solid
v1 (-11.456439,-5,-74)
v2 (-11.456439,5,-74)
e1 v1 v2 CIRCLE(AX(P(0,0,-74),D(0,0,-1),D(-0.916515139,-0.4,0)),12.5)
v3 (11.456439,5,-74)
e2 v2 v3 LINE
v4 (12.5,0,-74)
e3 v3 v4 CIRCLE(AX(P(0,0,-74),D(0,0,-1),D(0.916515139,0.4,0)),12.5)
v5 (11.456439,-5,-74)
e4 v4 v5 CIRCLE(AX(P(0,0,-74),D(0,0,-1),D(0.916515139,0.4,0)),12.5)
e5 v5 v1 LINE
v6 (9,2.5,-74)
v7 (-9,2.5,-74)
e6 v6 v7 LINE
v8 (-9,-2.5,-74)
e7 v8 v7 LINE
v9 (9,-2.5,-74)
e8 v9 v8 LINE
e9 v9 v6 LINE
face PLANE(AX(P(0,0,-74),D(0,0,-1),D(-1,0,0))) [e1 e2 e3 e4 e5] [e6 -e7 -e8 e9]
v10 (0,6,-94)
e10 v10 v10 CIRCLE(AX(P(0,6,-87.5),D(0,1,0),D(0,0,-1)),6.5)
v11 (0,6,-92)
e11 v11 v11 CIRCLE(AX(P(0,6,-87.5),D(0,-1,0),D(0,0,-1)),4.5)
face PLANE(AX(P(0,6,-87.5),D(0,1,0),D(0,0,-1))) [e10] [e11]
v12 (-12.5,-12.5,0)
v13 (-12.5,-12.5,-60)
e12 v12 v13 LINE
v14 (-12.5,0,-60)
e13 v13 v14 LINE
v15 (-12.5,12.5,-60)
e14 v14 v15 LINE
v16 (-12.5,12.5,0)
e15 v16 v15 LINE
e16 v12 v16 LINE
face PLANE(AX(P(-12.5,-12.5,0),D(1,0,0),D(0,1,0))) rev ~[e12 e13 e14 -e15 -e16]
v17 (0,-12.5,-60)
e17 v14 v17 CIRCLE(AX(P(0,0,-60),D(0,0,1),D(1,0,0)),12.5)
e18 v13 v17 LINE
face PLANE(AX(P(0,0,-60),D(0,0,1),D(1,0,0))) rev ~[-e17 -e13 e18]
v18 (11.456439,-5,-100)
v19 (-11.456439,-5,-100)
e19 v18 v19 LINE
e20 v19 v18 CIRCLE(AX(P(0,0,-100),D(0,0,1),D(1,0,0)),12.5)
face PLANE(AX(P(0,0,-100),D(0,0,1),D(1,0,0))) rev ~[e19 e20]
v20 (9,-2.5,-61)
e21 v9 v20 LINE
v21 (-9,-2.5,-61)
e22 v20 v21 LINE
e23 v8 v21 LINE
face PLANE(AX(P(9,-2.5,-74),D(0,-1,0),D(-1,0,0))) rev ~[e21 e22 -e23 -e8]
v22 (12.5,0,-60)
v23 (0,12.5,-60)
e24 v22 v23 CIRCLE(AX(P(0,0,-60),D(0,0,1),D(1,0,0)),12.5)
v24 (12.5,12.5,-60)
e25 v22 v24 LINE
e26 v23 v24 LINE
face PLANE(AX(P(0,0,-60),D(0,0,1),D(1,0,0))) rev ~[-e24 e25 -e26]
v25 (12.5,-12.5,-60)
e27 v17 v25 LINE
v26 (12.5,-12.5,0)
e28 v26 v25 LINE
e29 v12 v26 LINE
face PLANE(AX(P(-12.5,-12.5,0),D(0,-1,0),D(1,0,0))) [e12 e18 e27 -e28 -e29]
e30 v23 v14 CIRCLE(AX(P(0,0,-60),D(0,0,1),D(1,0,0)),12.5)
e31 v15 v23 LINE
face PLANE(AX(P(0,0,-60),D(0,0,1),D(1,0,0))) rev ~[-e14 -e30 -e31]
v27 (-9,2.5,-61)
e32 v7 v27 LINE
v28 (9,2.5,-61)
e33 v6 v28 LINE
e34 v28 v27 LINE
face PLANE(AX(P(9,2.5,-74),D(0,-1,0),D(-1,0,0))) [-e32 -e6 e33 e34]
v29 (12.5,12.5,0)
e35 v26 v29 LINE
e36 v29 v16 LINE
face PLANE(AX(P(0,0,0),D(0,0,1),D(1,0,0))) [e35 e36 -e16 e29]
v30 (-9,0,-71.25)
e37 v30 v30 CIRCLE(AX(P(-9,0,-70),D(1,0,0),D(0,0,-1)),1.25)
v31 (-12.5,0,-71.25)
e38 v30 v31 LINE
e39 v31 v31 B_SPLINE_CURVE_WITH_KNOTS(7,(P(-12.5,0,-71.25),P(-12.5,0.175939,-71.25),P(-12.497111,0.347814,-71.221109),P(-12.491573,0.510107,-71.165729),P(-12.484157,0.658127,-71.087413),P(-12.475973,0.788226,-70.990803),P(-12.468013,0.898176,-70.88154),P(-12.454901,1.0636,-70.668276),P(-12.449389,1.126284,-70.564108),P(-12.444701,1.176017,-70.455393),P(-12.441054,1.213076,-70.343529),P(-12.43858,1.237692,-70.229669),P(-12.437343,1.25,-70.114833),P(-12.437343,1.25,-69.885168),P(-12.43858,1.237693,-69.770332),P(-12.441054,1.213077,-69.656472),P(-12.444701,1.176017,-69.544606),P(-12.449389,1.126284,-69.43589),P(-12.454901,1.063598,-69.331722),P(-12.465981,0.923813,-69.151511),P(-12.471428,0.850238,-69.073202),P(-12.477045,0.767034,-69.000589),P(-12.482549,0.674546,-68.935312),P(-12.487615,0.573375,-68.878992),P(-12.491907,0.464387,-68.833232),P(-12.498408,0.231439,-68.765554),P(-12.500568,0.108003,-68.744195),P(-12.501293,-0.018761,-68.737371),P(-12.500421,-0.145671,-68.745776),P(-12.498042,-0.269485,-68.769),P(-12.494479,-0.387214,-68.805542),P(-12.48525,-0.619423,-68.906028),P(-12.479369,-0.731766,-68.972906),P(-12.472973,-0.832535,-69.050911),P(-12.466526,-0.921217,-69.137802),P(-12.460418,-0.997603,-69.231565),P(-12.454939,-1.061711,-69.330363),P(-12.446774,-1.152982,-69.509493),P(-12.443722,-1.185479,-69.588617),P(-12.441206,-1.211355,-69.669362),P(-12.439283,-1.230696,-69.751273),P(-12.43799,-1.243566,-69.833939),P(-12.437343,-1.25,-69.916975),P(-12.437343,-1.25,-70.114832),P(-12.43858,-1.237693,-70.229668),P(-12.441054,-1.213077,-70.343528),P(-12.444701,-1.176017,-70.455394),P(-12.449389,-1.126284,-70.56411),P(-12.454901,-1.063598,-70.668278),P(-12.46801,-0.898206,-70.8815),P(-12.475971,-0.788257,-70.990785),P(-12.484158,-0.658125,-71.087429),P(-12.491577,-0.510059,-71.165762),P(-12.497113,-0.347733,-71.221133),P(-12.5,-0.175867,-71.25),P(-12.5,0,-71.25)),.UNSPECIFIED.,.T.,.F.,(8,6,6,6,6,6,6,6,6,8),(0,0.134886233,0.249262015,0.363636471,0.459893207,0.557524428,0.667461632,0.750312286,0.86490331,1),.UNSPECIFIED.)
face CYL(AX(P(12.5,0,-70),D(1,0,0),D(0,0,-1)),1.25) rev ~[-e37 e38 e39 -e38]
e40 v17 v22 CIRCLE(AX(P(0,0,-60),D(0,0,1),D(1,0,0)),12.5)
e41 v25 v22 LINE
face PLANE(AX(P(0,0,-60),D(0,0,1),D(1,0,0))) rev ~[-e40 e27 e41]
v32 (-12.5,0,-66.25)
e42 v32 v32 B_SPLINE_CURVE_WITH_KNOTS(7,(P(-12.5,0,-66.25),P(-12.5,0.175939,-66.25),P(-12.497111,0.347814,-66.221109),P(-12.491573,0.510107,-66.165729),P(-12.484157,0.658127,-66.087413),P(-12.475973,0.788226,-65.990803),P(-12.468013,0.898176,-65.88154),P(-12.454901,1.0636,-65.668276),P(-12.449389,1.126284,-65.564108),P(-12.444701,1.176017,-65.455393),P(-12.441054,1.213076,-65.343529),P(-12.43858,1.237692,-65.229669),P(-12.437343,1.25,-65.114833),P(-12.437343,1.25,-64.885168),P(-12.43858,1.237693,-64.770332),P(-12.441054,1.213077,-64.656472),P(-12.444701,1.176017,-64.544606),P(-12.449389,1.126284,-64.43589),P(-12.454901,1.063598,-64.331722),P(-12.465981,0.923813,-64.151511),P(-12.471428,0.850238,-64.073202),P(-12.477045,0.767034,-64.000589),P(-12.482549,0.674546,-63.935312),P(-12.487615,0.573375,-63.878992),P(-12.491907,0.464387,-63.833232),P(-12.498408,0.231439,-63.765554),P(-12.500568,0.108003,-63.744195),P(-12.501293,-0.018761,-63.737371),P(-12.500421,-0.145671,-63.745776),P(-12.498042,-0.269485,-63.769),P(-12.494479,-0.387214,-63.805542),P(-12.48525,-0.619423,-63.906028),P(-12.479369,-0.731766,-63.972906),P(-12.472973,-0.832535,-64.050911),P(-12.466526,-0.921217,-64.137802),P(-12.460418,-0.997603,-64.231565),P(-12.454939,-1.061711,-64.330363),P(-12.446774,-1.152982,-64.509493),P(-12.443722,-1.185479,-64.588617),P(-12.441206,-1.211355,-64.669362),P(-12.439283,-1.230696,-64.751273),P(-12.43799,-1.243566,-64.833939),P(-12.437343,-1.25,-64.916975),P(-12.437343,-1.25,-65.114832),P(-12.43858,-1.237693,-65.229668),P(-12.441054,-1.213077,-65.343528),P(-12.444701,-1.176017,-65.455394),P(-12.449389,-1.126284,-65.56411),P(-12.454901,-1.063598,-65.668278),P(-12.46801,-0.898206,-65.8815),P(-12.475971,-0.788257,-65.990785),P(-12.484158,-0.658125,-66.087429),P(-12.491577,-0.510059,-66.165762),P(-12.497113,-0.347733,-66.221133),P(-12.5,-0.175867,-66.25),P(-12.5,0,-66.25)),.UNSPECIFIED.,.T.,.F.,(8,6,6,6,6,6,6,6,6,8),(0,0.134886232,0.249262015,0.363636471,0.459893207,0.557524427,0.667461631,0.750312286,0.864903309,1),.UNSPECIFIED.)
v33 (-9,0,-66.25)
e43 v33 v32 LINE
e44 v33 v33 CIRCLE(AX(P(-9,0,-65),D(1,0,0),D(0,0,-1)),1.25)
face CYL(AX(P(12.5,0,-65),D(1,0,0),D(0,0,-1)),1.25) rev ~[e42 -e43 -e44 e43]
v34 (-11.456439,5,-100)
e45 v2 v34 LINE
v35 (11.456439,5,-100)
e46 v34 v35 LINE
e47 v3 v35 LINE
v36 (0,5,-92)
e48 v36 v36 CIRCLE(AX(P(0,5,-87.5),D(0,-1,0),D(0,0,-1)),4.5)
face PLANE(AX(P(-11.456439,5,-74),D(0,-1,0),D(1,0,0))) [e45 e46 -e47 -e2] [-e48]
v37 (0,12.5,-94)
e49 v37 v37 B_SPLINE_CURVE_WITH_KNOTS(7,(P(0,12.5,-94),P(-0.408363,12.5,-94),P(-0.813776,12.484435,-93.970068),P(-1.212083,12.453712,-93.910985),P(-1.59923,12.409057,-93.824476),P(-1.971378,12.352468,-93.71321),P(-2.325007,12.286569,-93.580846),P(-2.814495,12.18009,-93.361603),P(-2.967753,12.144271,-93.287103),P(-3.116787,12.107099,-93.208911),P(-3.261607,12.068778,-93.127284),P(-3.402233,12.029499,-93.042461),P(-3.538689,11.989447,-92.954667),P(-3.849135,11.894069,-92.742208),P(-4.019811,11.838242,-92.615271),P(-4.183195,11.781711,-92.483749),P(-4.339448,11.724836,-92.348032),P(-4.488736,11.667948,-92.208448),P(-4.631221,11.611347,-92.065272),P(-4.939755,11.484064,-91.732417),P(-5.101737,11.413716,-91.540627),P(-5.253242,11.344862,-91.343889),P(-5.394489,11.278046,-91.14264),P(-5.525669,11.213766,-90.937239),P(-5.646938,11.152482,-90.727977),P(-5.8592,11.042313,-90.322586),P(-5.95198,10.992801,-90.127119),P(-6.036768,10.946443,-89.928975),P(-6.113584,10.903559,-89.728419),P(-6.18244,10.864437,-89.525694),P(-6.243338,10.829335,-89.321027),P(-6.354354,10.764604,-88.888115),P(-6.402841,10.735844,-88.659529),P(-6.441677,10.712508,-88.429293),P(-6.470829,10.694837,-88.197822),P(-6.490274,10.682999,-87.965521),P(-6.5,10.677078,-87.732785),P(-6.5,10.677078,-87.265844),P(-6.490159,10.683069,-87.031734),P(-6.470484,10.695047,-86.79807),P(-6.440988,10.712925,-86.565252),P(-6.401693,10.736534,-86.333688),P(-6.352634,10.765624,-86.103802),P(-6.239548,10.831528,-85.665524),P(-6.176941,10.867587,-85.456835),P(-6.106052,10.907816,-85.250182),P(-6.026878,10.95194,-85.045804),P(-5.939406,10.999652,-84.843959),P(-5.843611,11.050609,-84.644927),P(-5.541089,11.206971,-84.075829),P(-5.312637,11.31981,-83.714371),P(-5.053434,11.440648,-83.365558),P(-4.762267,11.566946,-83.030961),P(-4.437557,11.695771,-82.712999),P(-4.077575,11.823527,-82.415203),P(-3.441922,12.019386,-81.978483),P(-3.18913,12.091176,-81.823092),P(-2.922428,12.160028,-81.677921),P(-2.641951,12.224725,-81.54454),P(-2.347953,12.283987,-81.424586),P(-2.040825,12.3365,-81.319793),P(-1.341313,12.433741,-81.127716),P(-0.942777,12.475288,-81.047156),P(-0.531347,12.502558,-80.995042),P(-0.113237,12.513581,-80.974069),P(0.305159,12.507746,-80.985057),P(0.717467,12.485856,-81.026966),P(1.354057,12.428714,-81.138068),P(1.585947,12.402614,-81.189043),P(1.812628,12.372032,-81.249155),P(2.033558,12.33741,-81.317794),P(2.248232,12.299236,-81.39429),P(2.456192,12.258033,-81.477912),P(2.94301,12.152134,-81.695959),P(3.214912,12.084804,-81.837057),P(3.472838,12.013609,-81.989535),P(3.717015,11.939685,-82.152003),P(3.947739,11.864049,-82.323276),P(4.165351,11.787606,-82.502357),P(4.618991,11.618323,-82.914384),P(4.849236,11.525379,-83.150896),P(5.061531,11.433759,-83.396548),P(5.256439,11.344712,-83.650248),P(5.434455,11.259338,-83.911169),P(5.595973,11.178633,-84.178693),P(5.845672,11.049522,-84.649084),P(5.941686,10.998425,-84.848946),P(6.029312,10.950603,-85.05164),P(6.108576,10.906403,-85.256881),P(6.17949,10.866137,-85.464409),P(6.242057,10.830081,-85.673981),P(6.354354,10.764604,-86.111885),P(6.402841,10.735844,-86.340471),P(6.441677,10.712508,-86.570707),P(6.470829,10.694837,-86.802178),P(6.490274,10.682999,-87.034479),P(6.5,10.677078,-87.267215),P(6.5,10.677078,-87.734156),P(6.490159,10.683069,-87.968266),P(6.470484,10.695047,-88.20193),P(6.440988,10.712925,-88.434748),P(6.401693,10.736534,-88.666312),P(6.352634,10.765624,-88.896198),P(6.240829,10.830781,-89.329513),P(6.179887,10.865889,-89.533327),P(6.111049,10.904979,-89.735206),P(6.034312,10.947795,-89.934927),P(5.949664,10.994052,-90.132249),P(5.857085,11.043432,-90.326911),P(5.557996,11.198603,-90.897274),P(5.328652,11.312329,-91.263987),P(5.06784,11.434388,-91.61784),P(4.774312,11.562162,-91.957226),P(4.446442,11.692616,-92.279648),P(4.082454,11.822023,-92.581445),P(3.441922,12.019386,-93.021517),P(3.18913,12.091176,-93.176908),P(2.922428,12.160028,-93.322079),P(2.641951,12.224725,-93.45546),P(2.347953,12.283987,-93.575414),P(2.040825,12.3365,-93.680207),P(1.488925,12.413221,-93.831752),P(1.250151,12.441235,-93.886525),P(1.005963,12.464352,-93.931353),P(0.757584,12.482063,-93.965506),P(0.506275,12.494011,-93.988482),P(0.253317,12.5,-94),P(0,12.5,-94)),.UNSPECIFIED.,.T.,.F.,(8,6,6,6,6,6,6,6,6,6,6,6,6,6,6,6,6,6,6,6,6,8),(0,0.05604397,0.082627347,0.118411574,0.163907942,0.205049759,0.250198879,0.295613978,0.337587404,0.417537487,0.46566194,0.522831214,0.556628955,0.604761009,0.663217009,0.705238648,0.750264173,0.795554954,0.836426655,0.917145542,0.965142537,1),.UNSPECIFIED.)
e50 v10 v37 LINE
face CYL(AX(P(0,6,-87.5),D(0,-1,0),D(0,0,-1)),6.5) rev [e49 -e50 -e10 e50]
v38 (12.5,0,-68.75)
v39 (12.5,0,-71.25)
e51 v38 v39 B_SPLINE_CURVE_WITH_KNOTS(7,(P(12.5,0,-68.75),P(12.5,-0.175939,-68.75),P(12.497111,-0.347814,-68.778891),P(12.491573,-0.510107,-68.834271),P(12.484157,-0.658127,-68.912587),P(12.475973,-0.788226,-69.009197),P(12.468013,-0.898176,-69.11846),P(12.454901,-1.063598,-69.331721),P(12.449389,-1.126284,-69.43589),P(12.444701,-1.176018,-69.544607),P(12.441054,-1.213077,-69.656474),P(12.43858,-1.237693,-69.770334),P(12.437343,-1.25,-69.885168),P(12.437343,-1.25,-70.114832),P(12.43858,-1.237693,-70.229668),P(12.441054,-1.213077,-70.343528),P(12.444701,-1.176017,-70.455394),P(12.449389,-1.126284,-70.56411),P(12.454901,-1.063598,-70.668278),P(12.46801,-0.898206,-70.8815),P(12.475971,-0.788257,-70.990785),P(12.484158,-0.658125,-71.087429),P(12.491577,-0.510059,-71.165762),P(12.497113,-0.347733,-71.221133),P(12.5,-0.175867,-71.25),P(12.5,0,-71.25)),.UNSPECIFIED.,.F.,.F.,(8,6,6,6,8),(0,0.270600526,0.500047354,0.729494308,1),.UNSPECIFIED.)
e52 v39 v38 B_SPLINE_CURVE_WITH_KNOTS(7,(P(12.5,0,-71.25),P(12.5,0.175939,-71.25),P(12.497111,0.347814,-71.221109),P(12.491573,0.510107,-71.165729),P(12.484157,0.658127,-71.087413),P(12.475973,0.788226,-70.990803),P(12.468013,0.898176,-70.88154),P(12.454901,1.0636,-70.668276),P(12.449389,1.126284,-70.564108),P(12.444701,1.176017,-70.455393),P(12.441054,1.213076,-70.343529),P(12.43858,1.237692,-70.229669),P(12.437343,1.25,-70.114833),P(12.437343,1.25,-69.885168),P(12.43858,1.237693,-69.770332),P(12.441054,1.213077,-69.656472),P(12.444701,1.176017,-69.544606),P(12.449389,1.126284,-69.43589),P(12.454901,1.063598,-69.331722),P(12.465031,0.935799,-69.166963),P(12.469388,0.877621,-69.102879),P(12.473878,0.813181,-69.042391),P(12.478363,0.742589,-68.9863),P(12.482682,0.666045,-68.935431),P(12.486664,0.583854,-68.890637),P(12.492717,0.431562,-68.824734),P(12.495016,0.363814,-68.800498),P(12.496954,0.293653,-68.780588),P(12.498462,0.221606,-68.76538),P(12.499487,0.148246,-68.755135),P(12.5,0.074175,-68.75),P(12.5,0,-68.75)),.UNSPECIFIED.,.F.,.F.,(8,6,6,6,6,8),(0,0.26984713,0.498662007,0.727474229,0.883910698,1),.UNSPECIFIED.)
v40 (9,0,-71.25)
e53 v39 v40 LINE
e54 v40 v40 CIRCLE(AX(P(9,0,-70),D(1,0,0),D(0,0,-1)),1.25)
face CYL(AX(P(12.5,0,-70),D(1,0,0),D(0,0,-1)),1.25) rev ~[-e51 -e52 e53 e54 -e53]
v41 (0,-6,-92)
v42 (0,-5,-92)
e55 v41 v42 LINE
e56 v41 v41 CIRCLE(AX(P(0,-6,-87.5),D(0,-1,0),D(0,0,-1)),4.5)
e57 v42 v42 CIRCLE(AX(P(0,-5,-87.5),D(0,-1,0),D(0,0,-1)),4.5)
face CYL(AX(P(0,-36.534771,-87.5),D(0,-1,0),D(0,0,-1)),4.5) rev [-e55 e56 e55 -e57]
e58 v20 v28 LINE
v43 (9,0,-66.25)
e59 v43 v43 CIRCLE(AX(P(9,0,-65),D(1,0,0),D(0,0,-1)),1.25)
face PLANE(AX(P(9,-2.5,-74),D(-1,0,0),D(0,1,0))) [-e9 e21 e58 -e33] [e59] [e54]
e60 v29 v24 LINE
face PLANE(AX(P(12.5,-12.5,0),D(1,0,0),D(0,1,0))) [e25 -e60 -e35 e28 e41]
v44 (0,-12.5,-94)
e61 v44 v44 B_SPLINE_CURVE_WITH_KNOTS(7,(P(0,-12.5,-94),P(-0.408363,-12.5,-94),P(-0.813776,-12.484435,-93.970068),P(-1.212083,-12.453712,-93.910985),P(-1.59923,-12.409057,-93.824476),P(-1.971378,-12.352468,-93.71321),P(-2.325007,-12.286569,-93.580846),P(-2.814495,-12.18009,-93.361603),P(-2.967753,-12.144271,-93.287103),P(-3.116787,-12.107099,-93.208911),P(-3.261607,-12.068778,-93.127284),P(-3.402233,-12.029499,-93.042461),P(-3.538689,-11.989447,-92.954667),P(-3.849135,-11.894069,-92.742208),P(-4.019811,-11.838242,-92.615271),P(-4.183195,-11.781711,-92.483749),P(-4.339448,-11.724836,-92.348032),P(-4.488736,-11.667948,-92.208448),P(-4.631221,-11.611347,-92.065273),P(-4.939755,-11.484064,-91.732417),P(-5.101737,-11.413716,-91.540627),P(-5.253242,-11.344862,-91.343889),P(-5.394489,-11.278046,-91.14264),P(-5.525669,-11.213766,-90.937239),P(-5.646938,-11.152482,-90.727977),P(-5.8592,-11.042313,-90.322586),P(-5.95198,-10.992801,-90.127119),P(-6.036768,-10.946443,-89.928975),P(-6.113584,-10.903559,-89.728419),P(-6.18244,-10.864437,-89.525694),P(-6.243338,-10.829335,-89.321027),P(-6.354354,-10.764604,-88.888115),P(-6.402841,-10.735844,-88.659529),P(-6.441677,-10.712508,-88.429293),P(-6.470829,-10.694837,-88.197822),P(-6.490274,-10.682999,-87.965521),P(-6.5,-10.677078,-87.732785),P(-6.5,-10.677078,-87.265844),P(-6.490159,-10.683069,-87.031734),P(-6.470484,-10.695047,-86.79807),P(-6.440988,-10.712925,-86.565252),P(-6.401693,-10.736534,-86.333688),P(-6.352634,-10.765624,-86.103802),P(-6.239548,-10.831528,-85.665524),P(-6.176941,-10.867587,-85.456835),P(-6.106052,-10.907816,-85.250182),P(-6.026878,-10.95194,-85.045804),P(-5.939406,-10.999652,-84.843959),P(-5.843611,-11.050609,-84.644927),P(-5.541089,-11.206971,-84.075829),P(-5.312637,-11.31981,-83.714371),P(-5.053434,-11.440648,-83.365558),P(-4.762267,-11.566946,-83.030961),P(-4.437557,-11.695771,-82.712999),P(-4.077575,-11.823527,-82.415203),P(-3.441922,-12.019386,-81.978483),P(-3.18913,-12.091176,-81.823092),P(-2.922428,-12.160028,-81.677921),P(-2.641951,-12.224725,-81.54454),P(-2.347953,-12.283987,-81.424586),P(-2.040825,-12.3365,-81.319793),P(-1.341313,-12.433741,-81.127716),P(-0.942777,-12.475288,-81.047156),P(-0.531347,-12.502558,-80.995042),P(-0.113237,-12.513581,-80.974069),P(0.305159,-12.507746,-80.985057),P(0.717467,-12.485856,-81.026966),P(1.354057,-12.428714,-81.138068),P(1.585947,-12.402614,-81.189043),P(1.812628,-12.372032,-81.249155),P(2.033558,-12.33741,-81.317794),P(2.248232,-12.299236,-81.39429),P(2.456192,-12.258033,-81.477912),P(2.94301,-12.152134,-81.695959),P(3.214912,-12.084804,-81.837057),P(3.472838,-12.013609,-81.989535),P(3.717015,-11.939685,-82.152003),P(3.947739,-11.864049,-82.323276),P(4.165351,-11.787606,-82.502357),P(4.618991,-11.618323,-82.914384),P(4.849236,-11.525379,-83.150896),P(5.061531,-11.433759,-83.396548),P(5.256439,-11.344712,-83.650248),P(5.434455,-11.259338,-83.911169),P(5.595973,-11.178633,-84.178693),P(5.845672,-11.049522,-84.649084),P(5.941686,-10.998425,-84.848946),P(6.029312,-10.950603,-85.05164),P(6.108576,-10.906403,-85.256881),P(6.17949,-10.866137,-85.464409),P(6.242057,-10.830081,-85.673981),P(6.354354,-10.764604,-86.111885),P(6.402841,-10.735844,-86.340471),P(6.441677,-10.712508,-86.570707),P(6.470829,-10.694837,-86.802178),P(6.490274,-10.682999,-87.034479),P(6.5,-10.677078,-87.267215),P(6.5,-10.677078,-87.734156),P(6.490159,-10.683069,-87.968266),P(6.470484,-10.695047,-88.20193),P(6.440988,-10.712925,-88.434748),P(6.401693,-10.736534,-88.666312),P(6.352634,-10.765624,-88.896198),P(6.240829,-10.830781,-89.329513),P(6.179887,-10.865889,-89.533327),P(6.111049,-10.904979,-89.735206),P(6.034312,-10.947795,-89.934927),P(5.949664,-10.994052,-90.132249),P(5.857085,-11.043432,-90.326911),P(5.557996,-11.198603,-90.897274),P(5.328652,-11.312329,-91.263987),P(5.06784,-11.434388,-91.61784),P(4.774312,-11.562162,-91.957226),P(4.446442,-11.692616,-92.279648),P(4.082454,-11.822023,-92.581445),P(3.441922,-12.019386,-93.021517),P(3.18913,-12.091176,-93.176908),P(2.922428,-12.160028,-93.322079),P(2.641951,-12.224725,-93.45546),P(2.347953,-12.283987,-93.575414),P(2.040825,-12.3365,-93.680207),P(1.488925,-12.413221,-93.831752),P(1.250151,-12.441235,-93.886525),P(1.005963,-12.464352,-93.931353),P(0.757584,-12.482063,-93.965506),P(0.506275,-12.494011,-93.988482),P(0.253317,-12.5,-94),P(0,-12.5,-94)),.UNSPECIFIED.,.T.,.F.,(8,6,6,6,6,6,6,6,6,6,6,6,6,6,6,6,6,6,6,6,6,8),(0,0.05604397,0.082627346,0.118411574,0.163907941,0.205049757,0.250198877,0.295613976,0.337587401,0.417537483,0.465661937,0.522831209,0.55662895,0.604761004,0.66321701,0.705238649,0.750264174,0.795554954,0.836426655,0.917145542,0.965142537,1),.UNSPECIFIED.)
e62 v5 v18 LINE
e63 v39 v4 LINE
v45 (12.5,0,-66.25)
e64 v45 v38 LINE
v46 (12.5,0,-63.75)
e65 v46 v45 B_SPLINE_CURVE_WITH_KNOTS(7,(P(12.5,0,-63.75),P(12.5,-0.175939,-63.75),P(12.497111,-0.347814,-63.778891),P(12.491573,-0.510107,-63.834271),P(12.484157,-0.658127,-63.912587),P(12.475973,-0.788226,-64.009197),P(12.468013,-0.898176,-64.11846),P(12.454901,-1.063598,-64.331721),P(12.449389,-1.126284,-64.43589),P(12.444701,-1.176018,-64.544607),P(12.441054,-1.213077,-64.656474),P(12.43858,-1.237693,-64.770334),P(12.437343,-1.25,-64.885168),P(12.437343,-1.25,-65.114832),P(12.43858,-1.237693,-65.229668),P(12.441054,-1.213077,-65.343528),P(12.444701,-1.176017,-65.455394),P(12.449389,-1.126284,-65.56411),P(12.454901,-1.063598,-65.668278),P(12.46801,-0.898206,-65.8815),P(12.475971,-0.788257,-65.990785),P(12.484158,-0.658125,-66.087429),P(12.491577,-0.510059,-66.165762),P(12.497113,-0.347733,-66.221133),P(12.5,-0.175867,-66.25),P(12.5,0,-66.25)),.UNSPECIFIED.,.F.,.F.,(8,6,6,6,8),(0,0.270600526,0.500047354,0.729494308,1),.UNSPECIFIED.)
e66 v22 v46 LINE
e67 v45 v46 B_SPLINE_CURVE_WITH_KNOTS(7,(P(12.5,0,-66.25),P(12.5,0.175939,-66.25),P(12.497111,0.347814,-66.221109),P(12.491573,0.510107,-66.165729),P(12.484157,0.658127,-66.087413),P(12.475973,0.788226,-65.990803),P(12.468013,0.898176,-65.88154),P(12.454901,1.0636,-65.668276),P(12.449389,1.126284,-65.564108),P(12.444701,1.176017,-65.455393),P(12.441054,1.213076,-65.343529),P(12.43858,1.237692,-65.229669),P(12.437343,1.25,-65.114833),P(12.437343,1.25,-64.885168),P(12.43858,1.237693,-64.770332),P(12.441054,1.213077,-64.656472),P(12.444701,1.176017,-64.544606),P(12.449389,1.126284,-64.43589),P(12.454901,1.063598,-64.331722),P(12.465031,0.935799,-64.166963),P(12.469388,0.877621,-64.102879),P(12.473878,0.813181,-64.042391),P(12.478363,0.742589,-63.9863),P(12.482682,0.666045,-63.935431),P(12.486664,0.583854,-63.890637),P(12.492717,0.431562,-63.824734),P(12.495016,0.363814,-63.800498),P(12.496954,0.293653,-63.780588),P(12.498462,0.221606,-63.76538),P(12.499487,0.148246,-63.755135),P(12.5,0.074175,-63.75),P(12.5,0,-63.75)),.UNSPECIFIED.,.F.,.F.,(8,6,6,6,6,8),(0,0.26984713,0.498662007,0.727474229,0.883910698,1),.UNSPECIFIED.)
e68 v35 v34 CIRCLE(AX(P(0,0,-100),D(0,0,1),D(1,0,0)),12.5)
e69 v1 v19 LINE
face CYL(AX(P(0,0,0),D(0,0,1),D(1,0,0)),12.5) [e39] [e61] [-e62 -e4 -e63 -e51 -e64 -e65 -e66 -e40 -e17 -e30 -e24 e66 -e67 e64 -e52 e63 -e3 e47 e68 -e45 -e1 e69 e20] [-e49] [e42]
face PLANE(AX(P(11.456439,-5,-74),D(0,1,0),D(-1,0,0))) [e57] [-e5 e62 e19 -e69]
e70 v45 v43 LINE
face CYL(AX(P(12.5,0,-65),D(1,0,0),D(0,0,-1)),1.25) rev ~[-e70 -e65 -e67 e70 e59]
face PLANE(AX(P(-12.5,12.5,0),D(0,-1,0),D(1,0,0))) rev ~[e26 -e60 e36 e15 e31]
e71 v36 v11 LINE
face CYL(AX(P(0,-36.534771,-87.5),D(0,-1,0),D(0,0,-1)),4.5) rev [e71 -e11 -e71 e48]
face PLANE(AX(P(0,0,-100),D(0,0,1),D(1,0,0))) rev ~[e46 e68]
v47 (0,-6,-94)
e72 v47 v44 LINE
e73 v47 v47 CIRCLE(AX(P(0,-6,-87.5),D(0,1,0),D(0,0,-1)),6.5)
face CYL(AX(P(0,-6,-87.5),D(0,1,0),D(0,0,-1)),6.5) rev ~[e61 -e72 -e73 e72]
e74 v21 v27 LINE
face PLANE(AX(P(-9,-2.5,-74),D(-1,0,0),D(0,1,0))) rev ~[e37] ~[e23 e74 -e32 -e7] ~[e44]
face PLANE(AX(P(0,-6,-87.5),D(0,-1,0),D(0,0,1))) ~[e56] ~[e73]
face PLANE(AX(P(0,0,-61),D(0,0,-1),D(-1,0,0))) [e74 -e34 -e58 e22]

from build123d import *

# Parameters (mm, degrees)
SKETCH_1_R               = 12.5
EXTRUDE_1_DEPTH          = 100
CUT_EXTRUDE_START        = -26
CUT_EXTRUDE_1_DEPTH      = 26
CUT_EXTRUDE_2_DEPTH      = 34
CUT_EXTRUDE_2_DEPTH_BACK = 36.534771414
SKETCH_3_R               = 4.5
SKETCH_6_R               = 6.5
CUT_EXTRUDE_5_DEPTH      = 16
SKETCH_7_W               = 18
SKETCH_7_H               = 5
CUT_EXTRUDE_6_DEPTH      = 13
SKETCH_9_R               = 1.25
CUT_EXTRUDE_7_DEPTH      = 44
SKETCH_10_W              = 25
SKETCH_10_H              = 25
EXTRUDE_2_DEPTH          = 60


with BuildPart() as part:
    # 스케치1 → 보스-돌출1 (new body)
    with BuildSketch(Plane.XY):
        Circle(SKETCH_1_R)
    extrude(amount=-EXTRUDE_1_DEPTH)

    # 스케치2 → 컷-돌출1 (cut)
    with BuildSketch(Plane(origin=(0, 0, -100), x_dir=(-1, 0, 0), z_dir=(0, 0, -1)).offset(CUT_EXTRUDE_START)):
        with BuildLine():
            Line((11.456439237, 5), (-11.456439237, 5))
            ThreePointArc((-11.456439237, 5), (-12.5, 0), (-11.456439237, -5))
            Line((-11.456439237, -5), (11.456439237, -5))
            ThreePointArc((11.456439237, -5), (12.5, 0), (11.456439237, 5))
        make_face()
    extrude(amount=CUT_EXTRUDE_1_DEPTH, mode=Mode.SUBTRACT)

    # 스케치3 → 컷-돌출2 (cut, two sides: drawn at the far end of the back side and taken through both)
    with BuildSketch(Plane(origin=(0, 0, 0), x_dir=(1, 0, 0), z_dir=(0, 1, 0)).offset(-CUT_EXTRUDE_2_DEPTH_BACK)):
        with Locations(Location((0, 87.5, 0), (0, 0, 90))):
            Circle(SKETCH_3_R)
    extrude(amount=CUT_EXTRUDE_2_DEPTH + CUT_EXTRUDE_2_DEPTH_BACK, mode=Mode.SUBTRACT)

    # 스케치6 → 컷-돌출5 (cut)
    with BuildSketch(Plane(origin=(0, 6, 0), x_dir=(1, 0, 0), z_dir=(0, 1, 0))):
        with Locations(Location((0, 87.5, 0), (0, 0, 90))):
            Circle(SKETCH_6_R)
    cut_extrude_5 = extrude(amount=CUT_EXTRUDE_5_DEPTH, mode=Mode.SUBTRACT)

    # 대칭 복사1: 컷-돌출5 across plane
    add(cut_extrude_5.mirror(Plane.ZX), mode=Mode.SUBTRACT)

    # 스케치7 → 컷-돌출6 (cut)
    with BuildSketch(Plane(origin=(0, 0, -74), x_dir=(-1, 0, 0), z_dir=(0, 0, -1))):
        Rectangle(SKETCH_7_W, SKETCH_7_H)
    extrude(amount=-CUT_EXTRUDE_6_DEPTH, mode=Mode.SUBTRACT)

    # 스케치9 → 컷-돌출7 (cut)
    with BuildSketch(Plane(origin=(12.5, 0, 0), x_dir=(0, 0, -1), z_dir=(1, 0, 0))):
        with Locations((70, 0)):
            Circle(SKETCH_9_R)
        with Locations((65, 0)):
            Circle(SKETCH_9_R)
    extrude(amount=-CUT_EXTRUDE_7_DEPTH, mode=Mode.SUBTRACT)

    # 스케치10 → 보스-돌출2 (add)
    with BuildSketch(Plane.XY):
        Rectangle(SKETCH_10_W, SKETCH_10_H)
    extrude(amount=-EXTRUDE_2_DEPTH)


solid = part.part
